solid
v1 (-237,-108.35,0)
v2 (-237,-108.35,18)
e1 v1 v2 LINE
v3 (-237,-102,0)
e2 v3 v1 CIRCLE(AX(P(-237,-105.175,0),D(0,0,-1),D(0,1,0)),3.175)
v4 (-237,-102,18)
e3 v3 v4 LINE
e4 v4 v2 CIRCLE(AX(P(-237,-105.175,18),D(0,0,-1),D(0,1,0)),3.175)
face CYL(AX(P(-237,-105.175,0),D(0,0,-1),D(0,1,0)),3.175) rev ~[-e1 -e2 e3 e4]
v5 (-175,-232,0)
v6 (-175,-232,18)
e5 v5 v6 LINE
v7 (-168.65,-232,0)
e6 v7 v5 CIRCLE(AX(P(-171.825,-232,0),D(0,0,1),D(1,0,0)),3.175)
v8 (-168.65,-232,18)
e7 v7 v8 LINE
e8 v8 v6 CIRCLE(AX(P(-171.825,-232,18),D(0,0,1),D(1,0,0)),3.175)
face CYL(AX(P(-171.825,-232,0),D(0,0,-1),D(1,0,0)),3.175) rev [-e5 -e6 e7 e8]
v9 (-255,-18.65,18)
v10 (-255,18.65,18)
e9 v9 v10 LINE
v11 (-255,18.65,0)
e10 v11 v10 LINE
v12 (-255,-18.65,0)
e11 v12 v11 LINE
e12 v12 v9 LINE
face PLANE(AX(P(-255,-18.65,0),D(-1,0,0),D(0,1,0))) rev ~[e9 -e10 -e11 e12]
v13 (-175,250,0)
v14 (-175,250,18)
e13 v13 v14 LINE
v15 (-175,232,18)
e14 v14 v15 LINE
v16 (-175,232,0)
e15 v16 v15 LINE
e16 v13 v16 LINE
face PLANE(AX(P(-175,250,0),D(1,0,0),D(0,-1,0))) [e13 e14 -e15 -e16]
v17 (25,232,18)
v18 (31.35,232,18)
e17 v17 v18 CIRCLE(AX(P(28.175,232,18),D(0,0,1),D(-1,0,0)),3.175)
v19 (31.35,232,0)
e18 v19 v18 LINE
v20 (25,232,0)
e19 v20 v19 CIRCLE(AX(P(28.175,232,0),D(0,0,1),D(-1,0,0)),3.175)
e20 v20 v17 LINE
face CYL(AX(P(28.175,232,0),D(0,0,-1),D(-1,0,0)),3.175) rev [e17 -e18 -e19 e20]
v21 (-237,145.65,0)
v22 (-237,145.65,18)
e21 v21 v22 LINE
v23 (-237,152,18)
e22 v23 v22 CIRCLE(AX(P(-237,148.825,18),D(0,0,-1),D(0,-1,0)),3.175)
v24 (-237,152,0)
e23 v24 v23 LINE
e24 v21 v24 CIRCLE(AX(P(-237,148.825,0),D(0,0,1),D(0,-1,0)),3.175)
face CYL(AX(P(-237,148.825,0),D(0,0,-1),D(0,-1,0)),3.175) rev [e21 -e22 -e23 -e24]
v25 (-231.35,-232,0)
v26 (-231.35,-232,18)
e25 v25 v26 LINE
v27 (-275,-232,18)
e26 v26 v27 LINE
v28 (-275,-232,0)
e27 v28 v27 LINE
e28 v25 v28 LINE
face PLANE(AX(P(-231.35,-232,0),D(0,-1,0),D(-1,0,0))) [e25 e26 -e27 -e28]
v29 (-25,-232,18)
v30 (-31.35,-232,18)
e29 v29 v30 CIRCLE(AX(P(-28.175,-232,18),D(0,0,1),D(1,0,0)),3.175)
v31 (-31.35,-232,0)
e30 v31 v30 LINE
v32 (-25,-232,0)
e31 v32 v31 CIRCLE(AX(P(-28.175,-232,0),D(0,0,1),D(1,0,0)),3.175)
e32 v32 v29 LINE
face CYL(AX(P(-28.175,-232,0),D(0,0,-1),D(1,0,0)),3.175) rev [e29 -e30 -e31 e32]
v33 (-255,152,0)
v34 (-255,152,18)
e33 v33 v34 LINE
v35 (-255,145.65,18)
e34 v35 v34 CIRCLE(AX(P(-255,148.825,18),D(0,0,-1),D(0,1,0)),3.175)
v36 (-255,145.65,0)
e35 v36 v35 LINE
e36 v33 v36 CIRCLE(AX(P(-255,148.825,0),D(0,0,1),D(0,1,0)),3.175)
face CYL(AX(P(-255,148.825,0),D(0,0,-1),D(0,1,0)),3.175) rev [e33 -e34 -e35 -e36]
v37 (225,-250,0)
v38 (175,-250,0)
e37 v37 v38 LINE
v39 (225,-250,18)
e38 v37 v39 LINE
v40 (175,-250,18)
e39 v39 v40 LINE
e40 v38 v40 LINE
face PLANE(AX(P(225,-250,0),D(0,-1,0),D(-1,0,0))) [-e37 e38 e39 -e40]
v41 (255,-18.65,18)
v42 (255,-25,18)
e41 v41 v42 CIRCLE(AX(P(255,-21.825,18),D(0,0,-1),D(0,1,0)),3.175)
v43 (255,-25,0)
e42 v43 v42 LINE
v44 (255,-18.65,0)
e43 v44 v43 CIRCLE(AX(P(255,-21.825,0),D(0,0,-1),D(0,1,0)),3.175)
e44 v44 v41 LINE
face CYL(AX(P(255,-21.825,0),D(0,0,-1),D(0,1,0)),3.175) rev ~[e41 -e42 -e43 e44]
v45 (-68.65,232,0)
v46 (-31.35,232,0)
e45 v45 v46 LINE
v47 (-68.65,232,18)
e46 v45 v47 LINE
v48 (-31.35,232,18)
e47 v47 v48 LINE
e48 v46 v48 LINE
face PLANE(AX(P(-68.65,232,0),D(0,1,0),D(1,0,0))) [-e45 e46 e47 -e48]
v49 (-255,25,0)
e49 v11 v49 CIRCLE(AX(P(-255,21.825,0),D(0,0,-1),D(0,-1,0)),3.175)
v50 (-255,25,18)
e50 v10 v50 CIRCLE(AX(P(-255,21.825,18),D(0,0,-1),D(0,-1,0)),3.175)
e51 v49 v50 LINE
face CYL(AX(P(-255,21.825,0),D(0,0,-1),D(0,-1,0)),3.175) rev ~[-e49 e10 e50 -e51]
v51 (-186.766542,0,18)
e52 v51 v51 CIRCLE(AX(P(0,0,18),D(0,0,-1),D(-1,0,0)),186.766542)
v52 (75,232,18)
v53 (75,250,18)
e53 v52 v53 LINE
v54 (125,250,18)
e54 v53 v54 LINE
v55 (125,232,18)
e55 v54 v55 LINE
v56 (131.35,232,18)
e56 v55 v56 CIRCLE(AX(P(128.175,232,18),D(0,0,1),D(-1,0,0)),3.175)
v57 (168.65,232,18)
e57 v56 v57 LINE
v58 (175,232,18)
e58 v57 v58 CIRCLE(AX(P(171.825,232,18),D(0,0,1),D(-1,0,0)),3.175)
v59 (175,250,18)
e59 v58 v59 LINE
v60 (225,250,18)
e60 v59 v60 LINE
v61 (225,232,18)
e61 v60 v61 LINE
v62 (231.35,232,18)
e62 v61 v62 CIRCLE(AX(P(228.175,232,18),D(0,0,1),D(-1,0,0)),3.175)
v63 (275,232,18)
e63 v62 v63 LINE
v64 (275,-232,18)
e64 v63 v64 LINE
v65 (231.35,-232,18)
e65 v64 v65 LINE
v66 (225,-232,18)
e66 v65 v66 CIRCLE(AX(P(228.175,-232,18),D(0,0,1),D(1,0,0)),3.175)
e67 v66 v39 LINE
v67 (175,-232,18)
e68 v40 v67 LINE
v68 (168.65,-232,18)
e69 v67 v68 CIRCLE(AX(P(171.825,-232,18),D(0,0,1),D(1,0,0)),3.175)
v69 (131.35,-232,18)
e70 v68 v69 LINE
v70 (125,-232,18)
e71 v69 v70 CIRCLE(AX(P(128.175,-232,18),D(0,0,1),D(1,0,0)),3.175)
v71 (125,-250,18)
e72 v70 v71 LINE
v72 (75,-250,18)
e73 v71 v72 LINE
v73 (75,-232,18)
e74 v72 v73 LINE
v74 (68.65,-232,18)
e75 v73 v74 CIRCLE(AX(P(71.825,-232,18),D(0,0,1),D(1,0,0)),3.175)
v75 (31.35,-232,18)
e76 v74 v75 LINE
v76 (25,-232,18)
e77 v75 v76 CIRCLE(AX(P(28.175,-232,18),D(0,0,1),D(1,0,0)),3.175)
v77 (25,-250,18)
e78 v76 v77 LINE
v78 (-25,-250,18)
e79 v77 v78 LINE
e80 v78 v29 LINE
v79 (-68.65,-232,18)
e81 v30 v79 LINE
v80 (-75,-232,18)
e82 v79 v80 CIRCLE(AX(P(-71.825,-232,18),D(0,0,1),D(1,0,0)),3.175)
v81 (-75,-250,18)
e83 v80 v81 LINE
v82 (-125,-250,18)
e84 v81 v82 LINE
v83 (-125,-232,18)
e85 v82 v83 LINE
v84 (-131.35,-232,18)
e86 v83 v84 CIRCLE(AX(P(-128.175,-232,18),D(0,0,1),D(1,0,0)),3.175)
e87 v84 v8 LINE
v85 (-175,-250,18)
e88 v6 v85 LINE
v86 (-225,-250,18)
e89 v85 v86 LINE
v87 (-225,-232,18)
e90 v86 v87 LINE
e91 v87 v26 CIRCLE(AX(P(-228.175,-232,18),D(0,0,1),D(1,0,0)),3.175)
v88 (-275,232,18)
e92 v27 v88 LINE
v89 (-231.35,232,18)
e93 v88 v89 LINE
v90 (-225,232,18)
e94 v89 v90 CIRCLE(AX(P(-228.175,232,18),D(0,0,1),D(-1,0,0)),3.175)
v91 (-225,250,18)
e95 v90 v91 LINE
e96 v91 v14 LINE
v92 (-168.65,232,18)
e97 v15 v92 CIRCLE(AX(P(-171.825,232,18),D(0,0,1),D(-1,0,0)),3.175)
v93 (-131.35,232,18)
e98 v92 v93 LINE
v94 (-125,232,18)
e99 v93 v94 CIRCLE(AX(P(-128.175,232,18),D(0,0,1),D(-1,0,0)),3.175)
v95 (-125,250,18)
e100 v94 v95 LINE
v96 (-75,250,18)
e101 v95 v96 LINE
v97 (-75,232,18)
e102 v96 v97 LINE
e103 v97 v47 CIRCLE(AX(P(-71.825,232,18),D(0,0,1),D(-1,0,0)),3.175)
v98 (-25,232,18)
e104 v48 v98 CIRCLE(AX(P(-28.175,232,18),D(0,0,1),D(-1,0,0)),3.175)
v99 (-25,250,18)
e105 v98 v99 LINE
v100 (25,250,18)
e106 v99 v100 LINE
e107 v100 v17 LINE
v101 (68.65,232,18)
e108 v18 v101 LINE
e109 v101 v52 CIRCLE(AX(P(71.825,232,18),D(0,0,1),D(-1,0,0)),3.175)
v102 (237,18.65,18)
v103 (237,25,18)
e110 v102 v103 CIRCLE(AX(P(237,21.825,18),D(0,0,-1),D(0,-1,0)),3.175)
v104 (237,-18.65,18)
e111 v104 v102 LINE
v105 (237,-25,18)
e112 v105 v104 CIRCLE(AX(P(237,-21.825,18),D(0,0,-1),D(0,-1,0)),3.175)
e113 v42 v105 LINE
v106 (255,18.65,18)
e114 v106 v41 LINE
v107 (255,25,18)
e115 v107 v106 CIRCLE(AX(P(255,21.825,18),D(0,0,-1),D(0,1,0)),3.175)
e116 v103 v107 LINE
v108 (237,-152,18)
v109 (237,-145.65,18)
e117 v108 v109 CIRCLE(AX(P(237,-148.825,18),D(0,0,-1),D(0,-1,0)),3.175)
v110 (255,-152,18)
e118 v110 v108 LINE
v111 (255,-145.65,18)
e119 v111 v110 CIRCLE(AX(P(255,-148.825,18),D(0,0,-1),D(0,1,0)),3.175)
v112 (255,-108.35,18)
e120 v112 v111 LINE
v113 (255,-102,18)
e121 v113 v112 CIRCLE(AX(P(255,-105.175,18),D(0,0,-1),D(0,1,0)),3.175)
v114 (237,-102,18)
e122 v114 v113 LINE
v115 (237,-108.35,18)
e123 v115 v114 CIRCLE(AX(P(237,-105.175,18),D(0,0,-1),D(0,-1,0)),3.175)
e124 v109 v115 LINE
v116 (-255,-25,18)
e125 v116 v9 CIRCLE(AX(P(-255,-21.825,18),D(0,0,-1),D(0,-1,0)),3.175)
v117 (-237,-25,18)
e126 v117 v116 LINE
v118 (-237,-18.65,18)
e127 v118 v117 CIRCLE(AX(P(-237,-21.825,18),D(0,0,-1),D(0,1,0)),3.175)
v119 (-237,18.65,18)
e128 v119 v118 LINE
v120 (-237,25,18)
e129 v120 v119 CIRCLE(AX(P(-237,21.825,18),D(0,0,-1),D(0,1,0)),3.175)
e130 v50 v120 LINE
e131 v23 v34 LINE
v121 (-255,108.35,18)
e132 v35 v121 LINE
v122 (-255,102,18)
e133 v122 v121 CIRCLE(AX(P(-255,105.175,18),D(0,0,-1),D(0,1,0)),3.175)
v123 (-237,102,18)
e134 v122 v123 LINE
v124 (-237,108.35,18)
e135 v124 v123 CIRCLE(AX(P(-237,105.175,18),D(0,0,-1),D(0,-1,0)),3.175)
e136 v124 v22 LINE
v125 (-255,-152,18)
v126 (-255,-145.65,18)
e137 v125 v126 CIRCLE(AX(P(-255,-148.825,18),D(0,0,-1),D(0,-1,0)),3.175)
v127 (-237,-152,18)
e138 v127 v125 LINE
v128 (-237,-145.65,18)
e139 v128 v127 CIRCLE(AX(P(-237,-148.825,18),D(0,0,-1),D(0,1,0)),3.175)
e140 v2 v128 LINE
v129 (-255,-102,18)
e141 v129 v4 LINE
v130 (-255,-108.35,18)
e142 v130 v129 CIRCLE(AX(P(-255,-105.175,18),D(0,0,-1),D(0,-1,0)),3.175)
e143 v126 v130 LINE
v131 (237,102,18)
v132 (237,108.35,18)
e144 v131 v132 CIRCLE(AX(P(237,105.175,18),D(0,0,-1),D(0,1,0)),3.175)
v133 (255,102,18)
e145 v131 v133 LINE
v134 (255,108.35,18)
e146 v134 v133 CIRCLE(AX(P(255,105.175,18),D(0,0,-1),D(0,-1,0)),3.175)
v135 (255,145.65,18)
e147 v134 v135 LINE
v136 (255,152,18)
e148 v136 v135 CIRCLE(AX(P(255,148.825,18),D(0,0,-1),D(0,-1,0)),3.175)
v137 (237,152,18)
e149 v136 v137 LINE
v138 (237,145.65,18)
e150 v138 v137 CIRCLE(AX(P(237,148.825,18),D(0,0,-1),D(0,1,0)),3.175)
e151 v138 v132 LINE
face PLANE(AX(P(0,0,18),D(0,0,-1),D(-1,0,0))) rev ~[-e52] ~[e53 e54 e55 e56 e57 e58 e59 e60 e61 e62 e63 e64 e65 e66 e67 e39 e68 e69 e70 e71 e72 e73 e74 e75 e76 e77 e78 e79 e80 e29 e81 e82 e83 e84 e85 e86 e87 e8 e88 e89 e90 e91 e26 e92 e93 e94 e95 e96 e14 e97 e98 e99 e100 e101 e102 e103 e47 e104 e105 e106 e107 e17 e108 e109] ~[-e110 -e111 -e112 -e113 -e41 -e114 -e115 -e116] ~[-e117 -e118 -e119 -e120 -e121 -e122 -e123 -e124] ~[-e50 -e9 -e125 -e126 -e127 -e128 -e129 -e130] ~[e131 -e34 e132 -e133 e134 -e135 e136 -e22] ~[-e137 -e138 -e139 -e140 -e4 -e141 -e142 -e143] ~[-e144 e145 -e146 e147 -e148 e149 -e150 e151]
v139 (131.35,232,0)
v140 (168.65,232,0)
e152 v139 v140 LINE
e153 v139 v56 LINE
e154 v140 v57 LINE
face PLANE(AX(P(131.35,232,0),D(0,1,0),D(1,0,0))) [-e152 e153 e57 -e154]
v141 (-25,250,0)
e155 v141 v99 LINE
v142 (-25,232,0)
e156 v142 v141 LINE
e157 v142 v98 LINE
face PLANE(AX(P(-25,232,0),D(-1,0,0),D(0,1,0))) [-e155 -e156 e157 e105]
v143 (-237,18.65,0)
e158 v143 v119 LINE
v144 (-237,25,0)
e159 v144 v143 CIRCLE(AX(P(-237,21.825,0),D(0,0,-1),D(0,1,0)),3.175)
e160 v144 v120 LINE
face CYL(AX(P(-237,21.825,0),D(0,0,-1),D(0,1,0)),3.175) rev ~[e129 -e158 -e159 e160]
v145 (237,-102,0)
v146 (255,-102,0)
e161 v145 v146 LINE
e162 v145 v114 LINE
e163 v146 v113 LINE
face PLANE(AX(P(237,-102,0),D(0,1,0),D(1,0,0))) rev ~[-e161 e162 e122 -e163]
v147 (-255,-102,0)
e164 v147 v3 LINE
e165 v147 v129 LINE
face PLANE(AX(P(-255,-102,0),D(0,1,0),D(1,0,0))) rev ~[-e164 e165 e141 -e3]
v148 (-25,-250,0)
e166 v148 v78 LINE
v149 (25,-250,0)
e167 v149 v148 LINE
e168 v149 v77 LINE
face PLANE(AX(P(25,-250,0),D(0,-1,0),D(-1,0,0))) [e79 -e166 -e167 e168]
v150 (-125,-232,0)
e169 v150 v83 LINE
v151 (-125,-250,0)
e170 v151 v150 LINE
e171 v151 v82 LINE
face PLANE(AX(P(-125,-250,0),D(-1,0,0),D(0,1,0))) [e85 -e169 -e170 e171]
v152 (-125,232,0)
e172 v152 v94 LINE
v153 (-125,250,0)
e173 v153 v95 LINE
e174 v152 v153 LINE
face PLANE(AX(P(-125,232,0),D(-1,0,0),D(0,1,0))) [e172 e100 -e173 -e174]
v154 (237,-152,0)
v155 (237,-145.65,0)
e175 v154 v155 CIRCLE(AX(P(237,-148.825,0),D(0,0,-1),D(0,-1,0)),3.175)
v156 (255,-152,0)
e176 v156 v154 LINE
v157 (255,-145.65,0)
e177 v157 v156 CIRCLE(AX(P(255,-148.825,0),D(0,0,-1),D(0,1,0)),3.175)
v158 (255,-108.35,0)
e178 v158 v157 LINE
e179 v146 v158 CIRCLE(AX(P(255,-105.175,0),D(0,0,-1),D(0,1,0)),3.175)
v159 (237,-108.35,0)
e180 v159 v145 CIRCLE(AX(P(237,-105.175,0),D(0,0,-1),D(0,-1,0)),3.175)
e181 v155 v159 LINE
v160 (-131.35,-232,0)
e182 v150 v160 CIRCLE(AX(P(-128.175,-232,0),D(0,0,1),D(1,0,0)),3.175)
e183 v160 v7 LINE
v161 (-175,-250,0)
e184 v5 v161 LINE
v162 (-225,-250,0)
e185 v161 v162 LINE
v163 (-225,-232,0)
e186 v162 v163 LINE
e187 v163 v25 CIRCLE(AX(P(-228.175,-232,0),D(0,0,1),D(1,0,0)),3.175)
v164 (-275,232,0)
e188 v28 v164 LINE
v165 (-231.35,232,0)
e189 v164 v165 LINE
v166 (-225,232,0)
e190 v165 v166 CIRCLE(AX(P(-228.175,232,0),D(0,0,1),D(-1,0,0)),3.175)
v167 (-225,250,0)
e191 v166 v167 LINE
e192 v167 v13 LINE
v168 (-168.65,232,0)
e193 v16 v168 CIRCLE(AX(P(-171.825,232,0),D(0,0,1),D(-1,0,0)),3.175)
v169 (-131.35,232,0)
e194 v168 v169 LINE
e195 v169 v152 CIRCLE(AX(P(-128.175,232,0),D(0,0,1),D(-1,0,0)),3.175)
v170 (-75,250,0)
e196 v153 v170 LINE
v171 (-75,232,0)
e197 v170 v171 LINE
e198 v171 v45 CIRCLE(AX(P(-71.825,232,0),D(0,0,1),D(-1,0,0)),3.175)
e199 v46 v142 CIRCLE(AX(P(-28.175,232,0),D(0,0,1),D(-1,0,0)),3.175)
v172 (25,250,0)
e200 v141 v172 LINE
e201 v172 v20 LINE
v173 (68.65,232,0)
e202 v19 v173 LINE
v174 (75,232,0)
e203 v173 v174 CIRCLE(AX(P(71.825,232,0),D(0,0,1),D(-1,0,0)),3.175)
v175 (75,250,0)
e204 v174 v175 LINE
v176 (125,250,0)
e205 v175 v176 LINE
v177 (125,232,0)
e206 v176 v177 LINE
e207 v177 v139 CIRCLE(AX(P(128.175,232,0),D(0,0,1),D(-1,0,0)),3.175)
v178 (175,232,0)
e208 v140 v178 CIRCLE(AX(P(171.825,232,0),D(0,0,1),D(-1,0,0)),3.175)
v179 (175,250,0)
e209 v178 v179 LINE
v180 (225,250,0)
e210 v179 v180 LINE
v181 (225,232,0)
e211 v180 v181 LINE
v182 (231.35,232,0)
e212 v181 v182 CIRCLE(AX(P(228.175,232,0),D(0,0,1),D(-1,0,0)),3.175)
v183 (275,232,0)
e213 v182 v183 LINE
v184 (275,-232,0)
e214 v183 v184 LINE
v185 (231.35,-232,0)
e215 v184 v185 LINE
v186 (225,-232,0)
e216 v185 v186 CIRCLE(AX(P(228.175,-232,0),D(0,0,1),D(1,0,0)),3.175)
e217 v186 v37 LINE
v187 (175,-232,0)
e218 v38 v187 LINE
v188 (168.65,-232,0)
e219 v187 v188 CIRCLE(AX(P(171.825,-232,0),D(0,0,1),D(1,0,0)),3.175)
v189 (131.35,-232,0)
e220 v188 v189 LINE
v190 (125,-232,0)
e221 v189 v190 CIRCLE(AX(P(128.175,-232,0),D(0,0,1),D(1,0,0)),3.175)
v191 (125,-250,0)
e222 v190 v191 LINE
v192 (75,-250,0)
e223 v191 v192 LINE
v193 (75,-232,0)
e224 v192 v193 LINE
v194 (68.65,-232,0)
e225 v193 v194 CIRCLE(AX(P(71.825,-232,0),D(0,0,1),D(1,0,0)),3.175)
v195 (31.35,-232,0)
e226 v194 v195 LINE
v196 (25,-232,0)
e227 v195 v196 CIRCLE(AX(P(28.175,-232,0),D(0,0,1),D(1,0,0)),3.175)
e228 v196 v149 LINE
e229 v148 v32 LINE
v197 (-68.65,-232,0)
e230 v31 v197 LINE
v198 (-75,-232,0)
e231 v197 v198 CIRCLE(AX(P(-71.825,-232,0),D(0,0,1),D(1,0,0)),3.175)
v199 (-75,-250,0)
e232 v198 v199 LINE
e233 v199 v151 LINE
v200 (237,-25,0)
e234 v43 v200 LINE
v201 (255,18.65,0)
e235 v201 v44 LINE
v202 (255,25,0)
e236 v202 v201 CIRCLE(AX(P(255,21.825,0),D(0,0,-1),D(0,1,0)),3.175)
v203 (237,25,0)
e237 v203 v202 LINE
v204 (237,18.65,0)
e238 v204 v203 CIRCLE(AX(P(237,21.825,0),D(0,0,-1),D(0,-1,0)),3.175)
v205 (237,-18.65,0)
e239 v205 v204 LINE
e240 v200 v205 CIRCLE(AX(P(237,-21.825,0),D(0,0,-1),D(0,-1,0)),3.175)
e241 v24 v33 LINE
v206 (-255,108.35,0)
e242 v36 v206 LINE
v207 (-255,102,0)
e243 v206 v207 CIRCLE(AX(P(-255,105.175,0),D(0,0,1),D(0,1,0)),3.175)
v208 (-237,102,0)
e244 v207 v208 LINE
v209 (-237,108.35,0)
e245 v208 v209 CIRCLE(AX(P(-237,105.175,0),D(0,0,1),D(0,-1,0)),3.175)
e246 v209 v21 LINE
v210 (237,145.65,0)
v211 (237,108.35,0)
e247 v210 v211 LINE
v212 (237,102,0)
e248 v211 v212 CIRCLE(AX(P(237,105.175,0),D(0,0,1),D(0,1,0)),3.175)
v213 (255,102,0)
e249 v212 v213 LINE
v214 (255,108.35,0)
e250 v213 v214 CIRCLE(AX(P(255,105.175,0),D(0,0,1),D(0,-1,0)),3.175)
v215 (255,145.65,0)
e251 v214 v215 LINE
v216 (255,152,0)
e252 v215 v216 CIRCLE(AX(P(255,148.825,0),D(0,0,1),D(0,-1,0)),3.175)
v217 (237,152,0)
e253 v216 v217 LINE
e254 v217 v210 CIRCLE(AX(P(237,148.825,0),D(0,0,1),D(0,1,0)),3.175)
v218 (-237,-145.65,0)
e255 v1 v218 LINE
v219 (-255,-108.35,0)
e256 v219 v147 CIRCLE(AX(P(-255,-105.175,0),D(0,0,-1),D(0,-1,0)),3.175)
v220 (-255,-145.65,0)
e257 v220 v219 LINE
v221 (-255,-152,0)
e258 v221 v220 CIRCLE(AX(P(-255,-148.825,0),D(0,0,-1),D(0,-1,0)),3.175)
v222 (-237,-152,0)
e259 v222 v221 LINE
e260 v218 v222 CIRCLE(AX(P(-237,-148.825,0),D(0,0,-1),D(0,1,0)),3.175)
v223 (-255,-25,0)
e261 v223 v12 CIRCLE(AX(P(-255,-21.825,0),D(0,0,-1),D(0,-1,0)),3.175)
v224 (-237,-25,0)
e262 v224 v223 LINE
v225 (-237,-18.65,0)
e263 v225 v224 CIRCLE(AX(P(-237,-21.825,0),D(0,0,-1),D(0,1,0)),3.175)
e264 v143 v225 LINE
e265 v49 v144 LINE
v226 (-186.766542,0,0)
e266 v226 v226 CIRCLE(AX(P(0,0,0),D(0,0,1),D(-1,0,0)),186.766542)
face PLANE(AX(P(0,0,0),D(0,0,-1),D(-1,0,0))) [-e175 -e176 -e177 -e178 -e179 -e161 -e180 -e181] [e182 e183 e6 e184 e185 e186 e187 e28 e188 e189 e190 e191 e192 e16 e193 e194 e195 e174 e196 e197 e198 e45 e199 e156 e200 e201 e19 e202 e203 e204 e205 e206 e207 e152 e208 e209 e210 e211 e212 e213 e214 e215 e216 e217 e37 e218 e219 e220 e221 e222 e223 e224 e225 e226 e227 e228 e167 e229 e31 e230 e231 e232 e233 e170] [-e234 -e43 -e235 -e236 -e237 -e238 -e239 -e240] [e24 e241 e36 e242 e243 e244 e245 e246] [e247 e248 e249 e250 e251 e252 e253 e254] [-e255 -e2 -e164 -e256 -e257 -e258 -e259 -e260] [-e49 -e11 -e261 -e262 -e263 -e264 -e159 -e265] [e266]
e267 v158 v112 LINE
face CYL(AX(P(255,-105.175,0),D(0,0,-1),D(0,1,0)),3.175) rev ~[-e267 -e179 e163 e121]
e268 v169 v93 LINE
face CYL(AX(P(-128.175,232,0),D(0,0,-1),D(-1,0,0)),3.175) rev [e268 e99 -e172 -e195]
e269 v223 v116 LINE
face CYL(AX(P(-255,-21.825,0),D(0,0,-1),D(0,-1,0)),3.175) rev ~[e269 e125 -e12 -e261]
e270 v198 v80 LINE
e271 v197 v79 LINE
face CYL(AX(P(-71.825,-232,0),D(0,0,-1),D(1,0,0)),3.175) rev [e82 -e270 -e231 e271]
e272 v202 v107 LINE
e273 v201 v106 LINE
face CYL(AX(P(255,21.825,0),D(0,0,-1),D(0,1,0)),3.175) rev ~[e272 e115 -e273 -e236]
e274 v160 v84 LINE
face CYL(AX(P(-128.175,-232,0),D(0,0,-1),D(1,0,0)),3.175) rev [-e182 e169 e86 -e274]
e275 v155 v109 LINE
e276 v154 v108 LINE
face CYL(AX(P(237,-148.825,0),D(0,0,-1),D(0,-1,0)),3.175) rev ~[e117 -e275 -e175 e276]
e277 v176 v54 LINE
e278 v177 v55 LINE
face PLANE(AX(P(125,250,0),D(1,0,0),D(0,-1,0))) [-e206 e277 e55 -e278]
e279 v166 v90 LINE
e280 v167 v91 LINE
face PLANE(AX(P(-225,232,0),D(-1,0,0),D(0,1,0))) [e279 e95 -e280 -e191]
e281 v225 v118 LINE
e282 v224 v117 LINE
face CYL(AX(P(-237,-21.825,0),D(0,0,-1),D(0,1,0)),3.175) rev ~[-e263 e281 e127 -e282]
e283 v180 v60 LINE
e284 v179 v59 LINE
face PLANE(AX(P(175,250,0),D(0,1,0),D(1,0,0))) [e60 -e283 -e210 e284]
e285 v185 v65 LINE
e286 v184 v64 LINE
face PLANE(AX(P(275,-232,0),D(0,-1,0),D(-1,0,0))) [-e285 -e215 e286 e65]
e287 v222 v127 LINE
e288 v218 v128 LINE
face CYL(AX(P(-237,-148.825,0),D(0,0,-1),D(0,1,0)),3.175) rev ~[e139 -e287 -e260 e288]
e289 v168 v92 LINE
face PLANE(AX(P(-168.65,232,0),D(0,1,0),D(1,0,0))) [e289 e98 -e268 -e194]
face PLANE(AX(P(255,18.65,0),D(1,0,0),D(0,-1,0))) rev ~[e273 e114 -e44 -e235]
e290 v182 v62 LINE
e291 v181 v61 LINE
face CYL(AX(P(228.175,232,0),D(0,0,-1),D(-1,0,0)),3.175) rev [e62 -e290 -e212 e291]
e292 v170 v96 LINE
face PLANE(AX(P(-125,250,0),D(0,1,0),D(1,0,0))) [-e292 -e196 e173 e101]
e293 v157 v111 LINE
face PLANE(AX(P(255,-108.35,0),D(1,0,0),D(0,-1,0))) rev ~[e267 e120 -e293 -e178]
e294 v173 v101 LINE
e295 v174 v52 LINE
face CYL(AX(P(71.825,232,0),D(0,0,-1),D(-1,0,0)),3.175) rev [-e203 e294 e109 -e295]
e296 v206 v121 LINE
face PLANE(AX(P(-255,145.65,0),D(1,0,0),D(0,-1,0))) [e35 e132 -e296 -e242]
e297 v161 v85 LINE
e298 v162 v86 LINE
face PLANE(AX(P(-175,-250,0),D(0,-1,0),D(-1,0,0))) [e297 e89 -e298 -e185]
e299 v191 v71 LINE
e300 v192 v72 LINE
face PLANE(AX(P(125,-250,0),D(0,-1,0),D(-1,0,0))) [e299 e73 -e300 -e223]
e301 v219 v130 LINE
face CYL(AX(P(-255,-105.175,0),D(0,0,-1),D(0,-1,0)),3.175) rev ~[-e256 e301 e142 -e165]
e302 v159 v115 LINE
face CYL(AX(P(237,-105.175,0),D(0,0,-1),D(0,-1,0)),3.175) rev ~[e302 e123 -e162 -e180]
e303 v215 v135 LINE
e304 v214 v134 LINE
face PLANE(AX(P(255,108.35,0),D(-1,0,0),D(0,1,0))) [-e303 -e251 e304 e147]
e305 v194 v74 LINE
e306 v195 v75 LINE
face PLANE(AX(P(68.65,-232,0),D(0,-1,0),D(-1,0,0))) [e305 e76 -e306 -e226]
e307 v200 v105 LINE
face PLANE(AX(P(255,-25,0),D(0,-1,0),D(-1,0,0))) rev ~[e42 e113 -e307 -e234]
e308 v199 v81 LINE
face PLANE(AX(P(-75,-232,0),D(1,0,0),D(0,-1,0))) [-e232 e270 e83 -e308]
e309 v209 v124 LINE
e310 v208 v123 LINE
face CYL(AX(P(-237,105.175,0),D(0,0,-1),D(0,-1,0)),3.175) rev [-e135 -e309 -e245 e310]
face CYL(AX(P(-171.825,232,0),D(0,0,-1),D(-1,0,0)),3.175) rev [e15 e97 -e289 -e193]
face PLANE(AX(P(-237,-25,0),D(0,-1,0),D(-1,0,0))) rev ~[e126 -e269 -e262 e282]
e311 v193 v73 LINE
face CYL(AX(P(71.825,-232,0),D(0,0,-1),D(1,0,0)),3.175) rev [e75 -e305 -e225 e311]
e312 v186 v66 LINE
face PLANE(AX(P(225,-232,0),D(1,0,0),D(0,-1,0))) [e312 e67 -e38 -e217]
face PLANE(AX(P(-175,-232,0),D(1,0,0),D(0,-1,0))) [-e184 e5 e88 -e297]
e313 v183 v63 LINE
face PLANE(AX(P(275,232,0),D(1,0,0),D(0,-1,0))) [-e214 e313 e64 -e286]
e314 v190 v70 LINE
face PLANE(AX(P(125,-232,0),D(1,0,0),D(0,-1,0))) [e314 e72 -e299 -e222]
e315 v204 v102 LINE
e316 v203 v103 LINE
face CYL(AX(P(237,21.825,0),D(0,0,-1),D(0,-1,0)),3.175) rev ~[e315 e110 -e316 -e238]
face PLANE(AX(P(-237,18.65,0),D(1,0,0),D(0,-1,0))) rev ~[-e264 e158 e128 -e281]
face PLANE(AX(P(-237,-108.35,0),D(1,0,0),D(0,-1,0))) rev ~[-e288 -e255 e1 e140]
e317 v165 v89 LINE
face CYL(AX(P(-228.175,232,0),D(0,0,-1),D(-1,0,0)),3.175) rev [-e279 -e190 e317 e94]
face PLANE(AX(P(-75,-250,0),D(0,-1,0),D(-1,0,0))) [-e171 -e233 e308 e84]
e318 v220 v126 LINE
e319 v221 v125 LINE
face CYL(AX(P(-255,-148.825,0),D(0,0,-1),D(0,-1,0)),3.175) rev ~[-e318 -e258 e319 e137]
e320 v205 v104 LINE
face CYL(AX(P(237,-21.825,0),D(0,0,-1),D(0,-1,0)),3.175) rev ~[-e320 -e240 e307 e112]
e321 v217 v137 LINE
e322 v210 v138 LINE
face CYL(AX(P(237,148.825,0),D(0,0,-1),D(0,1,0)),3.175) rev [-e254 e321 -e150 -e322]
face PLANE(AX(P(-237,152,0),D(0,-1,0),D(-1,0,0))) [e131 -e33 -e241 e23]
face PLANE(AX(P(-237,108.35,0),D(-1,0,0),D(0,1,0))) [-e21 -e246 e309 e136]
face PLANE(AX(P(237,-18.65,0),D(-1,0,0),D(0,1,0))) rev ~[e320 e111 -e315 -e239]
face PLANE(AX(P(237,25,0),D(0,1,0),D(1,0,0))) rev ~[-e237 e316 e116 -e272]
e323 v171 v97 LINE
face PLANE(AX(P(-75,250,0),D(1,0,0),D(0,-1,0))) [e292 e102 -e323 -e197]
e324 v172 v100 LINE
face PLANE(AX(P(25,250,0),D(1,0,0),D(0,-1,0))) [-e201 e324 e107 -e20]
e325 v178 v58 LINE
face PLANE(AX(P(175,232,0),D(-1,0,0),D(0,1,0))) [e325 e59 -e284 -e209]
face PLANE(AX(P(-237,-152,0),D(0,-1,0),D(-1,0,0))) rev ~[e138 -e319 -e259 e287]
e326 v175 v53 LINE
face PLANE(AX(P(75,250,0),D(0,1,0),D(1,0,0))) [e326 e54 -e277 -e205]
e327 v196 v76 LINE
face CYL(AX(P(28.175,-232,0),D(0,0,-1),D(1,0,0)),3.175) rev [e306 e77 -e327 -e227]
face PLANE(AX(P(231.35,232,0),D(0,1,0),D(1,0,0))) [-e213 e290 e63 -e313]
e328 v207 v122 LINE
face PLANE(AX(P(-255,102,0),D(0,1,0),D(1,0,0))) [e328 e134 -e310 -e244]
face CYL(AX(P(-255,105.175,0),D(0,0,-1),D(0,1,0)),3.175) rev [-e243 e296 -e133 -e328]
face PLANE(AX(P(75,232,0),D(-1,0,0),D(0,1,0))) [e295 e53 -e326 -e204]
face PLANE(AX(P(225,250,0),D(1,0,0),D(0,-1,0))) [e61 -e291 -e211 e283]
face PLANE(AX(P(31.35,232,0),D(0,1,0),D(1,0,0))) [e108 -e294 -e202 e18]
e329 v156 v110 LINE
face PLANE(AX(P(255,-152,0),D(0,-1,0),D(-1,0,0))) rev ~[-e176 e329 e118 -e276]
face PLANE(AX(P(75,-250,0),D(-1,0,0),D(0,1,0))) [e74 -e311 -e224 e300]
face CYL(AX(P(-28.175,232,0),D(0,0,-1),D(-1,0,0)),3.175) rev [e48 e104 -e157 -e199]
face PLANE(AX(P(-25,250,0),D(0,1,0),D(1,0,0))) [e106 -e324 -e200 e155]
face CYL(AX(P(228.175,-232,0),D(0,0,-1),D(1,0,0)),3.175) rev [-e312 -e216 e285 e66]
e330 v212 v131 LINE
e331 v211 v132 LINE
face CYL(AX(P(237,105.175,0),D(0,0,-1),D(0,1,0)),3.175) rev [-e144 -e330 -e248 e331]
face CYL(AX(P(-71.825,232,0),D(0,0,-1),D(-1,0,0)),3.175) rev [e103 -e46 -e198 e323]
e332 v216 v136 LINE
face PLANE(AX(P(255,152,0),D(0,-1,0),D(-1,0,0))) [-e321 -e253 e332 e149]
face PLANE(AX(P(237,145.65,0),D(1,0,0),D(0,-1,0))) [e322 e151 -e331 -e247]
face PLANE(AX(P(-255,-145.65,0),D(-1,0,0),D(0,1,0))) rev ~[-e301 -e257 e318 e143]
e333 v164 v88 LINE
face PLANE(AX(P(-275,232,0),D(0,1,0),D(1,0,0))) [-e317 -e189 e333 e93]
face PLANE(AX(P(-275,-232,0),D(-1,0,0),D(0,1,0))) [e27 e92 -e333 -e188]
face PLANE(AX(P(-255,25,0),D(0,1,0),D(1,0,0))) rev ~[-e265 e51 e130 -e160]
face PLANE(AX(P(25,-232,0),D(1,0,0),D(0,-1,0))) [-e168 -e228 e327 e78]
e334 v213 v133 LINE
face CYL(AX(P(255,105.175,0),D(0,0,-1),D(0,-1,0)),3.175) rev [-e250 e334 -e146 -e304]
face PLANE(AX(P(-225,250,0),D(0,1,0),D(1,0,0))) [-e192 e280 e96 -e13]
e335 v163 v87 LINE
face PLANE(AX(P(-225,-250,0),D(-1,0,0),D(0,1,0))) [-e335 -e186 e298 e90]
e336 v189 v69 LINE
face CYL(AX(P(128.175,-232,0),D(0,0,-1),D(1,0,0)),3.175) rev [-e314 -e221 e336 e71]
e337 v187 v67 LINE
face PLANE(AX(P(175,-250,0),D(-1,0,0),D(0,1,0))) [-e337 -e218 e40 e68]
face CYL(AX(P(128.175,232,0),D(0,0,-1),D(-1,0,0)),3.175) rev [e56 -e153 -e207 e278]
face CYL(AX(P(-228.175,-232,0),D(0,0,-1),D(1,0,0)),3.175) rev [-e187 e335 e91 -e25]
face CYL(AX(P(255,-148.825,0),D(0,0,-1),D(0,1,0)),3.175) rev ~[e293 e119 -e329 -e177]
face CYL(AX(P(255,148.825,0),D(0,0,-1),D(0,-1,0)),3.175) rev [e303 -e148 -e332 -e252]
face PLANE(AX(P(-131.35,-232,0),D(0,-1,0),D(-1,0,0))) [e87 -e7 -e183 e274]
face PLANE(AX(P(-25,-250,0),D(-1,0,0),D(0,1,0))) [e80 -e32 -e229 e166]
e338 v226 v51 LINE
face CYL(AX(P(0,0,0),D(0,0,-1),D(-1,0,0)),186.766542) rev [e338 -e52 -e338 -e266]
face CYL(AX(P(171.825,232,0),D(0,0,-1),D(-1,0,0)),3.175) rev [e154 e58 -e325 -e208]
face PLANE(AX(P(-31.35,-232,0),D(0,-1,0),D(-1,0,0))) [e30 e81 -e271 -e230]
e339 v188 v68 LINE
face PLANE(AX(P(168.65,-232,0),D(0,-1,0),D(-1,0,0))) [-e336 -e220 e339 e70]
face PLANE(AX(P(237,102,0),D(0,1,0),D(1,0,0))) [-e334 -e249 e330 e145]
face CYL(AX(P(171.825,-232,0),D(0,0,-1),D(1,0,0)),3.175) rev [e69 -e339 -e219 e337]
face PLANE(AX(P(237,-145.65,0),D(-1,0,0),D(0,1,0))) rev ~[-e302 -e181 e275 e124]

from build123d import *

# Parameters (mm, degrees)
ESTRUSIONE_ESTRUSIONE1_DEPTH = 18
TAGLIO_ESTRUSIONE1_DEPTH     = 47
TAGLIO_ESTRUSIONE2_DEPTH     = 32
TAGLIO_ESTRUSIONE3_DEPTH     = 50
TAGLIO_ESTRUSIONE4_DEPTH     = 44
TAGLIO_ESTRUSIONE5_DEPTH     = 38
TAGLIO_ESTRUSIONE6_DEPTH     = 44
MODEL_11_R                   = 186.766541562
TAGLIO_ESTRUSIONE7_DEPTH     = 91


with BuildPart() as part:
    # Model → Estrusione-Estrusione1 (new body)
    with BuildSketch(Plane.XY):
        with BuildLine():
            Line((-275, -232), (-275, 232))
            Line((-275, 232), (-231.35, 232))
            ThreePointArc((-231.35, 232), (-228.175, 228.825), (-225, 232))
            Line((-225, 232), (-225, 250))
            Line((-225, 250), (-175, 250))
            Line((-175, 250), (-175, 232))
            ThreePointArc((-175, 232), (-171.825, 228.825), (-168.65, 232))
            Line((-168.65, 232), (-131.35, 232))
            ThreePointArc((-131.35, 232), (-128.175, 228.825), (-125, 232))
            Line((-125, 232), (-125, 250))
            Line((-125, 250), (-75, 250))
            Line((-75, 250), (-75, 232))
            ThreePointArc((-75, 232), (-71.825, 228.825), (-68.65, 232))
            Line((-68.65, 232), (-31.35, 232))
            ThreePointArc((-31.35, 232), (-28.175, 228.825), (-25, 232))
            Line((-25, 232), (-25, 250))
            Line((-25, 250), (25, 250))
            Line((25, 250), (25, 232))
            ThreePointArc((25, 232), (28.175, 228.825), (31.35, 232))
            Line((31.35, 232), (68.65, 232))
            ThreePointArc((68.65, 232), (71.825, 228.825), (75, 232))
            Line((75, 232), (75, 250))
            Line((75, 250), (125, 250))
            Line((125, 250), (125, 232))
            ThreePointArc((125, 232), (128.175, 228.825), (131.35, 232))
            Line((131.35, 232), (168.65, 232))
            ThreePointArc((168.65, 232), (171.825, 228.825), (175, 232))
            Line((175, 232), (175, 250))
            Line((175, 250), (225, 250))
            Line((225, 250), (225, 232))
            ThreePointArc((225, 232), (228.175, 228.825), (231.35, 232))
            Line((231.35, 232), (275, 232))
            Line((275, 232), (275, -232))
            Line((275, -232), (231.35, -232))
            ThreePointArc((231.35, -232), (228.175, -228.825), (225, -232))
            Line((225, -232), (225, -250))
            Line((225, -250), (175, -250))
            Line((175, -250), (175, -232))
            ThreePointArc((175, -232), (171.825, -228.825), (168.65, -232))
            Line((168.65, -232), (131.35, -232))
            ThreePointArc((131.35, -232), (128.175, -228.825), (125, -232))
            Line((125, -232), (125, -250))
            Line((125, -250), (75, -250))
            Line((75, -250), (75, -232))
            ThreePointArc((75, -232), (71.825, -228.825), (68.65, -232))
            Line((68.65, -232), (31.35, -232))
            ThreePointArc((31.35, -232), (28.175, -228.825), (25, -232))
            Line((25, -232), (25, -250))
            Line((25, -250), (-25, -250))
            Line((-25, -250), (-25, -232))
            ThreePointArc((-25, -232), (-28.175, -228.825), (-31.35, -232))
            Line((-31.35, -232), (-68.65, -232))
            ThreePointArc((-68.65, -232), (-71.825, -228.825), (-75, -232))
            Line((-75, -232), (-75, -250))
            Line((-75, -250), (-125, -250))
            Line((-125, -250), (-125, -232))
            ThreePointArc((-125, -232), (-128.175, -228.825), (-131.35, -232))
            Line((-131.35, -232), (-168.65, -232))
            ThreePointArc((-168.65, -232), (-171.825, -228.825), (-175, -232))
            Line((-175, -232), (-175, -250))
            Line((-175, -250), (-225, -250))
            Line((-225, -250), (-225, -232))
            ThreePointArc((-225, -232), (-228.175, -228.825), (-231.35, -232))
            Line((-231.35, -232), (-275, -232))
        make_face()
    extrude(amount=ESTRUSIONE_ESTRUSIONE1_DEPTH)

    # Model<3> → Taglio-Estrusione1 (cut)
    with BuildSketch(Plane.XY):
        with BuildLine():
            Line((-255, 145.65), (-255, 108.35))
            ThreePointArc((-255, 108.35), (-258.175, 105.175), (-255, 102))
            Line((-255, 102), (-237, 102))
            ThreePointArc((-237, 102), (-233.825, 105.175), (-237, 108.35))
            Line((-237, 108.35), (-237, 145.65))
            ThreePointArc((-237, 145.65), (-233.825, 148.825), (-237, 152))
            Line((-237, 152), (-255, 152))
            ThreePointArc((-255, 152), (-258.175, 148.825), (-255, 145.65))
        make_face()
    extrude(amount=TAGLIO_ESTRUSIONE1_DEPTH, mode=Mode.SUBTRACT)

    # Model<4> → Taglio-Estrusione2 (cut)
    with BuildSketch(Plane.XY):
        with BuildLine():
            Line((-255, -18.65), (-255, 18.65))
            ThreePointArc((-255, 18.65), (-258.175, 21.825), (-255, 25))
            Line((-255, 25), (-237, 25))
            ThreePointArc((-237, 25), (-233.825, 21.825), (-237, 18.65))
            Line((-237, 18.65), (-237, -18.65))
            ThreePointArc((-237, -18.65), (-233.825, -21.825), (-237, -25))
            Line((-237, -25), (-255, -25))
            ThreePointArc((-255, -25), (-258.175, -21.825), (-255, -18.65))
        make_face()
    extrude(amount=TAGLIO_ESTRUSIONE2_DEPTH, mode=Mode.SUBTRACT)

    # Model<5> → Taglio-Estrusione3 (cut)
    with BuildSketch(Plane.XY):
        with BuildLine():
            Line((-255, -145.65), (-255, -108.35))
            ThreePointArc((-255, -108.35), (-258.175, -105.175), (-255, -102))
            Line((-255, -102), (-237, -102))
            ThreePointArc((-237, -102), (-233.825, -105.175), (-237, -108.35))
            Line((-237, -108.35), (-237, -145.65))
            ThreePointArc((-237, -145.65), (-233.825, -148.825), (-237, -152))
            Line((-237, -152), (-255, -152))
            ThreePointArc((-255, -152), (-258.175, -148.825), (-255, -145.65))
        make_face()
    extrude(amount=TAGLIO_ESTRUSIONE3_DEPTH, mode=Mode.SUBTRACT)

    # Model<6> → Taglio-Estrusione4 (cut)
    with BuildSketch(Plane.XY):
        with BuildLine():
            Line((237, 145.65), (237, 108.35))
            ThreePointArc((237, 108.35), (233.825, 105.175), (237, 102))
            Line((237, 102), (255, 102))
            ThreePointArc((255, 102), (258.175, 105.175), (255, 108.35))
            Line((255, 108.35), (255, 145.65))
            ThreePointArc((255, 145.65), (258.175, 148.825), (255, 152))
            Line((255, 152), (237, 152))
            ThreePointArc((237, 152), (233.825, 148.825), (237, 145.65))
        make_face()
    extrude(amount=TAGLIO_ESTRUSIONE4_DEPTH, mode=Mode.SUBTRACT)

    # Model<7> → Taglio-Estrusione5 (cut)
    with BuildSketch(Plane.XY):
        with BuildLine():
            Line((237, -18.65), (237, 18.65))
            ThreePointArc((237, 18.65), (233.825, 21.825), (237, 25))
            Line((237, 25), (255, 25))
            ThreePointArc((255, 25), (258.175, 21.825), (255, 18.65))
            Line((255, 18.65), (255, -18.65))
            ThreePointArc((255, -18.65), (258.175, -21.825), (255, -25))
            Line((255, -25), (237, -25))
            ThreePointArc((237, -25), (233.825, -21.825), (237, -18.65))
        make_face()
    extrude(amount=TAGLIO_ESTRUSIONE5_DEPTH, mode=Mode.SUBTRACT)

    # Model<10> → Taglio-Estrusione6 (cut)
    with BuildSketch(Plane.XY):
        with BuildLine():
            Line((237, -145.65), (237, -108.35))
            ThreePointArc((237, -108.35), (233.825, -105.175), (237, -102))
            Line((237, -102), (255, -102))
            ThreePointArc((255, -102), (258.175, -105.175), (255, -108.35))
            Line((255, -108.35), (255, -145.65))
            ThreePointArc((255, -145.65), (258.175, -148.825), (255, -152))
            Line((255, -152), (237, -152))
            ThreePointArc((237, -152), (233.825, -148.825), (237, -145.65))
        make_face()
    extrude(amount=TAGLIO_ESTRUSIONE6_DEPTH, mode=Mode.SUBTRACT)

    # Model<11> → Taglio-Estrusione7 (cut)
    with BuildSketch(Plane.XY):
        Circle(MODEL_11_R)
    extrude(amount=TAGLIO_ESTRUSIONE7_DEPTH, mode=Mode.SUBTRACT)


solid = part.part
